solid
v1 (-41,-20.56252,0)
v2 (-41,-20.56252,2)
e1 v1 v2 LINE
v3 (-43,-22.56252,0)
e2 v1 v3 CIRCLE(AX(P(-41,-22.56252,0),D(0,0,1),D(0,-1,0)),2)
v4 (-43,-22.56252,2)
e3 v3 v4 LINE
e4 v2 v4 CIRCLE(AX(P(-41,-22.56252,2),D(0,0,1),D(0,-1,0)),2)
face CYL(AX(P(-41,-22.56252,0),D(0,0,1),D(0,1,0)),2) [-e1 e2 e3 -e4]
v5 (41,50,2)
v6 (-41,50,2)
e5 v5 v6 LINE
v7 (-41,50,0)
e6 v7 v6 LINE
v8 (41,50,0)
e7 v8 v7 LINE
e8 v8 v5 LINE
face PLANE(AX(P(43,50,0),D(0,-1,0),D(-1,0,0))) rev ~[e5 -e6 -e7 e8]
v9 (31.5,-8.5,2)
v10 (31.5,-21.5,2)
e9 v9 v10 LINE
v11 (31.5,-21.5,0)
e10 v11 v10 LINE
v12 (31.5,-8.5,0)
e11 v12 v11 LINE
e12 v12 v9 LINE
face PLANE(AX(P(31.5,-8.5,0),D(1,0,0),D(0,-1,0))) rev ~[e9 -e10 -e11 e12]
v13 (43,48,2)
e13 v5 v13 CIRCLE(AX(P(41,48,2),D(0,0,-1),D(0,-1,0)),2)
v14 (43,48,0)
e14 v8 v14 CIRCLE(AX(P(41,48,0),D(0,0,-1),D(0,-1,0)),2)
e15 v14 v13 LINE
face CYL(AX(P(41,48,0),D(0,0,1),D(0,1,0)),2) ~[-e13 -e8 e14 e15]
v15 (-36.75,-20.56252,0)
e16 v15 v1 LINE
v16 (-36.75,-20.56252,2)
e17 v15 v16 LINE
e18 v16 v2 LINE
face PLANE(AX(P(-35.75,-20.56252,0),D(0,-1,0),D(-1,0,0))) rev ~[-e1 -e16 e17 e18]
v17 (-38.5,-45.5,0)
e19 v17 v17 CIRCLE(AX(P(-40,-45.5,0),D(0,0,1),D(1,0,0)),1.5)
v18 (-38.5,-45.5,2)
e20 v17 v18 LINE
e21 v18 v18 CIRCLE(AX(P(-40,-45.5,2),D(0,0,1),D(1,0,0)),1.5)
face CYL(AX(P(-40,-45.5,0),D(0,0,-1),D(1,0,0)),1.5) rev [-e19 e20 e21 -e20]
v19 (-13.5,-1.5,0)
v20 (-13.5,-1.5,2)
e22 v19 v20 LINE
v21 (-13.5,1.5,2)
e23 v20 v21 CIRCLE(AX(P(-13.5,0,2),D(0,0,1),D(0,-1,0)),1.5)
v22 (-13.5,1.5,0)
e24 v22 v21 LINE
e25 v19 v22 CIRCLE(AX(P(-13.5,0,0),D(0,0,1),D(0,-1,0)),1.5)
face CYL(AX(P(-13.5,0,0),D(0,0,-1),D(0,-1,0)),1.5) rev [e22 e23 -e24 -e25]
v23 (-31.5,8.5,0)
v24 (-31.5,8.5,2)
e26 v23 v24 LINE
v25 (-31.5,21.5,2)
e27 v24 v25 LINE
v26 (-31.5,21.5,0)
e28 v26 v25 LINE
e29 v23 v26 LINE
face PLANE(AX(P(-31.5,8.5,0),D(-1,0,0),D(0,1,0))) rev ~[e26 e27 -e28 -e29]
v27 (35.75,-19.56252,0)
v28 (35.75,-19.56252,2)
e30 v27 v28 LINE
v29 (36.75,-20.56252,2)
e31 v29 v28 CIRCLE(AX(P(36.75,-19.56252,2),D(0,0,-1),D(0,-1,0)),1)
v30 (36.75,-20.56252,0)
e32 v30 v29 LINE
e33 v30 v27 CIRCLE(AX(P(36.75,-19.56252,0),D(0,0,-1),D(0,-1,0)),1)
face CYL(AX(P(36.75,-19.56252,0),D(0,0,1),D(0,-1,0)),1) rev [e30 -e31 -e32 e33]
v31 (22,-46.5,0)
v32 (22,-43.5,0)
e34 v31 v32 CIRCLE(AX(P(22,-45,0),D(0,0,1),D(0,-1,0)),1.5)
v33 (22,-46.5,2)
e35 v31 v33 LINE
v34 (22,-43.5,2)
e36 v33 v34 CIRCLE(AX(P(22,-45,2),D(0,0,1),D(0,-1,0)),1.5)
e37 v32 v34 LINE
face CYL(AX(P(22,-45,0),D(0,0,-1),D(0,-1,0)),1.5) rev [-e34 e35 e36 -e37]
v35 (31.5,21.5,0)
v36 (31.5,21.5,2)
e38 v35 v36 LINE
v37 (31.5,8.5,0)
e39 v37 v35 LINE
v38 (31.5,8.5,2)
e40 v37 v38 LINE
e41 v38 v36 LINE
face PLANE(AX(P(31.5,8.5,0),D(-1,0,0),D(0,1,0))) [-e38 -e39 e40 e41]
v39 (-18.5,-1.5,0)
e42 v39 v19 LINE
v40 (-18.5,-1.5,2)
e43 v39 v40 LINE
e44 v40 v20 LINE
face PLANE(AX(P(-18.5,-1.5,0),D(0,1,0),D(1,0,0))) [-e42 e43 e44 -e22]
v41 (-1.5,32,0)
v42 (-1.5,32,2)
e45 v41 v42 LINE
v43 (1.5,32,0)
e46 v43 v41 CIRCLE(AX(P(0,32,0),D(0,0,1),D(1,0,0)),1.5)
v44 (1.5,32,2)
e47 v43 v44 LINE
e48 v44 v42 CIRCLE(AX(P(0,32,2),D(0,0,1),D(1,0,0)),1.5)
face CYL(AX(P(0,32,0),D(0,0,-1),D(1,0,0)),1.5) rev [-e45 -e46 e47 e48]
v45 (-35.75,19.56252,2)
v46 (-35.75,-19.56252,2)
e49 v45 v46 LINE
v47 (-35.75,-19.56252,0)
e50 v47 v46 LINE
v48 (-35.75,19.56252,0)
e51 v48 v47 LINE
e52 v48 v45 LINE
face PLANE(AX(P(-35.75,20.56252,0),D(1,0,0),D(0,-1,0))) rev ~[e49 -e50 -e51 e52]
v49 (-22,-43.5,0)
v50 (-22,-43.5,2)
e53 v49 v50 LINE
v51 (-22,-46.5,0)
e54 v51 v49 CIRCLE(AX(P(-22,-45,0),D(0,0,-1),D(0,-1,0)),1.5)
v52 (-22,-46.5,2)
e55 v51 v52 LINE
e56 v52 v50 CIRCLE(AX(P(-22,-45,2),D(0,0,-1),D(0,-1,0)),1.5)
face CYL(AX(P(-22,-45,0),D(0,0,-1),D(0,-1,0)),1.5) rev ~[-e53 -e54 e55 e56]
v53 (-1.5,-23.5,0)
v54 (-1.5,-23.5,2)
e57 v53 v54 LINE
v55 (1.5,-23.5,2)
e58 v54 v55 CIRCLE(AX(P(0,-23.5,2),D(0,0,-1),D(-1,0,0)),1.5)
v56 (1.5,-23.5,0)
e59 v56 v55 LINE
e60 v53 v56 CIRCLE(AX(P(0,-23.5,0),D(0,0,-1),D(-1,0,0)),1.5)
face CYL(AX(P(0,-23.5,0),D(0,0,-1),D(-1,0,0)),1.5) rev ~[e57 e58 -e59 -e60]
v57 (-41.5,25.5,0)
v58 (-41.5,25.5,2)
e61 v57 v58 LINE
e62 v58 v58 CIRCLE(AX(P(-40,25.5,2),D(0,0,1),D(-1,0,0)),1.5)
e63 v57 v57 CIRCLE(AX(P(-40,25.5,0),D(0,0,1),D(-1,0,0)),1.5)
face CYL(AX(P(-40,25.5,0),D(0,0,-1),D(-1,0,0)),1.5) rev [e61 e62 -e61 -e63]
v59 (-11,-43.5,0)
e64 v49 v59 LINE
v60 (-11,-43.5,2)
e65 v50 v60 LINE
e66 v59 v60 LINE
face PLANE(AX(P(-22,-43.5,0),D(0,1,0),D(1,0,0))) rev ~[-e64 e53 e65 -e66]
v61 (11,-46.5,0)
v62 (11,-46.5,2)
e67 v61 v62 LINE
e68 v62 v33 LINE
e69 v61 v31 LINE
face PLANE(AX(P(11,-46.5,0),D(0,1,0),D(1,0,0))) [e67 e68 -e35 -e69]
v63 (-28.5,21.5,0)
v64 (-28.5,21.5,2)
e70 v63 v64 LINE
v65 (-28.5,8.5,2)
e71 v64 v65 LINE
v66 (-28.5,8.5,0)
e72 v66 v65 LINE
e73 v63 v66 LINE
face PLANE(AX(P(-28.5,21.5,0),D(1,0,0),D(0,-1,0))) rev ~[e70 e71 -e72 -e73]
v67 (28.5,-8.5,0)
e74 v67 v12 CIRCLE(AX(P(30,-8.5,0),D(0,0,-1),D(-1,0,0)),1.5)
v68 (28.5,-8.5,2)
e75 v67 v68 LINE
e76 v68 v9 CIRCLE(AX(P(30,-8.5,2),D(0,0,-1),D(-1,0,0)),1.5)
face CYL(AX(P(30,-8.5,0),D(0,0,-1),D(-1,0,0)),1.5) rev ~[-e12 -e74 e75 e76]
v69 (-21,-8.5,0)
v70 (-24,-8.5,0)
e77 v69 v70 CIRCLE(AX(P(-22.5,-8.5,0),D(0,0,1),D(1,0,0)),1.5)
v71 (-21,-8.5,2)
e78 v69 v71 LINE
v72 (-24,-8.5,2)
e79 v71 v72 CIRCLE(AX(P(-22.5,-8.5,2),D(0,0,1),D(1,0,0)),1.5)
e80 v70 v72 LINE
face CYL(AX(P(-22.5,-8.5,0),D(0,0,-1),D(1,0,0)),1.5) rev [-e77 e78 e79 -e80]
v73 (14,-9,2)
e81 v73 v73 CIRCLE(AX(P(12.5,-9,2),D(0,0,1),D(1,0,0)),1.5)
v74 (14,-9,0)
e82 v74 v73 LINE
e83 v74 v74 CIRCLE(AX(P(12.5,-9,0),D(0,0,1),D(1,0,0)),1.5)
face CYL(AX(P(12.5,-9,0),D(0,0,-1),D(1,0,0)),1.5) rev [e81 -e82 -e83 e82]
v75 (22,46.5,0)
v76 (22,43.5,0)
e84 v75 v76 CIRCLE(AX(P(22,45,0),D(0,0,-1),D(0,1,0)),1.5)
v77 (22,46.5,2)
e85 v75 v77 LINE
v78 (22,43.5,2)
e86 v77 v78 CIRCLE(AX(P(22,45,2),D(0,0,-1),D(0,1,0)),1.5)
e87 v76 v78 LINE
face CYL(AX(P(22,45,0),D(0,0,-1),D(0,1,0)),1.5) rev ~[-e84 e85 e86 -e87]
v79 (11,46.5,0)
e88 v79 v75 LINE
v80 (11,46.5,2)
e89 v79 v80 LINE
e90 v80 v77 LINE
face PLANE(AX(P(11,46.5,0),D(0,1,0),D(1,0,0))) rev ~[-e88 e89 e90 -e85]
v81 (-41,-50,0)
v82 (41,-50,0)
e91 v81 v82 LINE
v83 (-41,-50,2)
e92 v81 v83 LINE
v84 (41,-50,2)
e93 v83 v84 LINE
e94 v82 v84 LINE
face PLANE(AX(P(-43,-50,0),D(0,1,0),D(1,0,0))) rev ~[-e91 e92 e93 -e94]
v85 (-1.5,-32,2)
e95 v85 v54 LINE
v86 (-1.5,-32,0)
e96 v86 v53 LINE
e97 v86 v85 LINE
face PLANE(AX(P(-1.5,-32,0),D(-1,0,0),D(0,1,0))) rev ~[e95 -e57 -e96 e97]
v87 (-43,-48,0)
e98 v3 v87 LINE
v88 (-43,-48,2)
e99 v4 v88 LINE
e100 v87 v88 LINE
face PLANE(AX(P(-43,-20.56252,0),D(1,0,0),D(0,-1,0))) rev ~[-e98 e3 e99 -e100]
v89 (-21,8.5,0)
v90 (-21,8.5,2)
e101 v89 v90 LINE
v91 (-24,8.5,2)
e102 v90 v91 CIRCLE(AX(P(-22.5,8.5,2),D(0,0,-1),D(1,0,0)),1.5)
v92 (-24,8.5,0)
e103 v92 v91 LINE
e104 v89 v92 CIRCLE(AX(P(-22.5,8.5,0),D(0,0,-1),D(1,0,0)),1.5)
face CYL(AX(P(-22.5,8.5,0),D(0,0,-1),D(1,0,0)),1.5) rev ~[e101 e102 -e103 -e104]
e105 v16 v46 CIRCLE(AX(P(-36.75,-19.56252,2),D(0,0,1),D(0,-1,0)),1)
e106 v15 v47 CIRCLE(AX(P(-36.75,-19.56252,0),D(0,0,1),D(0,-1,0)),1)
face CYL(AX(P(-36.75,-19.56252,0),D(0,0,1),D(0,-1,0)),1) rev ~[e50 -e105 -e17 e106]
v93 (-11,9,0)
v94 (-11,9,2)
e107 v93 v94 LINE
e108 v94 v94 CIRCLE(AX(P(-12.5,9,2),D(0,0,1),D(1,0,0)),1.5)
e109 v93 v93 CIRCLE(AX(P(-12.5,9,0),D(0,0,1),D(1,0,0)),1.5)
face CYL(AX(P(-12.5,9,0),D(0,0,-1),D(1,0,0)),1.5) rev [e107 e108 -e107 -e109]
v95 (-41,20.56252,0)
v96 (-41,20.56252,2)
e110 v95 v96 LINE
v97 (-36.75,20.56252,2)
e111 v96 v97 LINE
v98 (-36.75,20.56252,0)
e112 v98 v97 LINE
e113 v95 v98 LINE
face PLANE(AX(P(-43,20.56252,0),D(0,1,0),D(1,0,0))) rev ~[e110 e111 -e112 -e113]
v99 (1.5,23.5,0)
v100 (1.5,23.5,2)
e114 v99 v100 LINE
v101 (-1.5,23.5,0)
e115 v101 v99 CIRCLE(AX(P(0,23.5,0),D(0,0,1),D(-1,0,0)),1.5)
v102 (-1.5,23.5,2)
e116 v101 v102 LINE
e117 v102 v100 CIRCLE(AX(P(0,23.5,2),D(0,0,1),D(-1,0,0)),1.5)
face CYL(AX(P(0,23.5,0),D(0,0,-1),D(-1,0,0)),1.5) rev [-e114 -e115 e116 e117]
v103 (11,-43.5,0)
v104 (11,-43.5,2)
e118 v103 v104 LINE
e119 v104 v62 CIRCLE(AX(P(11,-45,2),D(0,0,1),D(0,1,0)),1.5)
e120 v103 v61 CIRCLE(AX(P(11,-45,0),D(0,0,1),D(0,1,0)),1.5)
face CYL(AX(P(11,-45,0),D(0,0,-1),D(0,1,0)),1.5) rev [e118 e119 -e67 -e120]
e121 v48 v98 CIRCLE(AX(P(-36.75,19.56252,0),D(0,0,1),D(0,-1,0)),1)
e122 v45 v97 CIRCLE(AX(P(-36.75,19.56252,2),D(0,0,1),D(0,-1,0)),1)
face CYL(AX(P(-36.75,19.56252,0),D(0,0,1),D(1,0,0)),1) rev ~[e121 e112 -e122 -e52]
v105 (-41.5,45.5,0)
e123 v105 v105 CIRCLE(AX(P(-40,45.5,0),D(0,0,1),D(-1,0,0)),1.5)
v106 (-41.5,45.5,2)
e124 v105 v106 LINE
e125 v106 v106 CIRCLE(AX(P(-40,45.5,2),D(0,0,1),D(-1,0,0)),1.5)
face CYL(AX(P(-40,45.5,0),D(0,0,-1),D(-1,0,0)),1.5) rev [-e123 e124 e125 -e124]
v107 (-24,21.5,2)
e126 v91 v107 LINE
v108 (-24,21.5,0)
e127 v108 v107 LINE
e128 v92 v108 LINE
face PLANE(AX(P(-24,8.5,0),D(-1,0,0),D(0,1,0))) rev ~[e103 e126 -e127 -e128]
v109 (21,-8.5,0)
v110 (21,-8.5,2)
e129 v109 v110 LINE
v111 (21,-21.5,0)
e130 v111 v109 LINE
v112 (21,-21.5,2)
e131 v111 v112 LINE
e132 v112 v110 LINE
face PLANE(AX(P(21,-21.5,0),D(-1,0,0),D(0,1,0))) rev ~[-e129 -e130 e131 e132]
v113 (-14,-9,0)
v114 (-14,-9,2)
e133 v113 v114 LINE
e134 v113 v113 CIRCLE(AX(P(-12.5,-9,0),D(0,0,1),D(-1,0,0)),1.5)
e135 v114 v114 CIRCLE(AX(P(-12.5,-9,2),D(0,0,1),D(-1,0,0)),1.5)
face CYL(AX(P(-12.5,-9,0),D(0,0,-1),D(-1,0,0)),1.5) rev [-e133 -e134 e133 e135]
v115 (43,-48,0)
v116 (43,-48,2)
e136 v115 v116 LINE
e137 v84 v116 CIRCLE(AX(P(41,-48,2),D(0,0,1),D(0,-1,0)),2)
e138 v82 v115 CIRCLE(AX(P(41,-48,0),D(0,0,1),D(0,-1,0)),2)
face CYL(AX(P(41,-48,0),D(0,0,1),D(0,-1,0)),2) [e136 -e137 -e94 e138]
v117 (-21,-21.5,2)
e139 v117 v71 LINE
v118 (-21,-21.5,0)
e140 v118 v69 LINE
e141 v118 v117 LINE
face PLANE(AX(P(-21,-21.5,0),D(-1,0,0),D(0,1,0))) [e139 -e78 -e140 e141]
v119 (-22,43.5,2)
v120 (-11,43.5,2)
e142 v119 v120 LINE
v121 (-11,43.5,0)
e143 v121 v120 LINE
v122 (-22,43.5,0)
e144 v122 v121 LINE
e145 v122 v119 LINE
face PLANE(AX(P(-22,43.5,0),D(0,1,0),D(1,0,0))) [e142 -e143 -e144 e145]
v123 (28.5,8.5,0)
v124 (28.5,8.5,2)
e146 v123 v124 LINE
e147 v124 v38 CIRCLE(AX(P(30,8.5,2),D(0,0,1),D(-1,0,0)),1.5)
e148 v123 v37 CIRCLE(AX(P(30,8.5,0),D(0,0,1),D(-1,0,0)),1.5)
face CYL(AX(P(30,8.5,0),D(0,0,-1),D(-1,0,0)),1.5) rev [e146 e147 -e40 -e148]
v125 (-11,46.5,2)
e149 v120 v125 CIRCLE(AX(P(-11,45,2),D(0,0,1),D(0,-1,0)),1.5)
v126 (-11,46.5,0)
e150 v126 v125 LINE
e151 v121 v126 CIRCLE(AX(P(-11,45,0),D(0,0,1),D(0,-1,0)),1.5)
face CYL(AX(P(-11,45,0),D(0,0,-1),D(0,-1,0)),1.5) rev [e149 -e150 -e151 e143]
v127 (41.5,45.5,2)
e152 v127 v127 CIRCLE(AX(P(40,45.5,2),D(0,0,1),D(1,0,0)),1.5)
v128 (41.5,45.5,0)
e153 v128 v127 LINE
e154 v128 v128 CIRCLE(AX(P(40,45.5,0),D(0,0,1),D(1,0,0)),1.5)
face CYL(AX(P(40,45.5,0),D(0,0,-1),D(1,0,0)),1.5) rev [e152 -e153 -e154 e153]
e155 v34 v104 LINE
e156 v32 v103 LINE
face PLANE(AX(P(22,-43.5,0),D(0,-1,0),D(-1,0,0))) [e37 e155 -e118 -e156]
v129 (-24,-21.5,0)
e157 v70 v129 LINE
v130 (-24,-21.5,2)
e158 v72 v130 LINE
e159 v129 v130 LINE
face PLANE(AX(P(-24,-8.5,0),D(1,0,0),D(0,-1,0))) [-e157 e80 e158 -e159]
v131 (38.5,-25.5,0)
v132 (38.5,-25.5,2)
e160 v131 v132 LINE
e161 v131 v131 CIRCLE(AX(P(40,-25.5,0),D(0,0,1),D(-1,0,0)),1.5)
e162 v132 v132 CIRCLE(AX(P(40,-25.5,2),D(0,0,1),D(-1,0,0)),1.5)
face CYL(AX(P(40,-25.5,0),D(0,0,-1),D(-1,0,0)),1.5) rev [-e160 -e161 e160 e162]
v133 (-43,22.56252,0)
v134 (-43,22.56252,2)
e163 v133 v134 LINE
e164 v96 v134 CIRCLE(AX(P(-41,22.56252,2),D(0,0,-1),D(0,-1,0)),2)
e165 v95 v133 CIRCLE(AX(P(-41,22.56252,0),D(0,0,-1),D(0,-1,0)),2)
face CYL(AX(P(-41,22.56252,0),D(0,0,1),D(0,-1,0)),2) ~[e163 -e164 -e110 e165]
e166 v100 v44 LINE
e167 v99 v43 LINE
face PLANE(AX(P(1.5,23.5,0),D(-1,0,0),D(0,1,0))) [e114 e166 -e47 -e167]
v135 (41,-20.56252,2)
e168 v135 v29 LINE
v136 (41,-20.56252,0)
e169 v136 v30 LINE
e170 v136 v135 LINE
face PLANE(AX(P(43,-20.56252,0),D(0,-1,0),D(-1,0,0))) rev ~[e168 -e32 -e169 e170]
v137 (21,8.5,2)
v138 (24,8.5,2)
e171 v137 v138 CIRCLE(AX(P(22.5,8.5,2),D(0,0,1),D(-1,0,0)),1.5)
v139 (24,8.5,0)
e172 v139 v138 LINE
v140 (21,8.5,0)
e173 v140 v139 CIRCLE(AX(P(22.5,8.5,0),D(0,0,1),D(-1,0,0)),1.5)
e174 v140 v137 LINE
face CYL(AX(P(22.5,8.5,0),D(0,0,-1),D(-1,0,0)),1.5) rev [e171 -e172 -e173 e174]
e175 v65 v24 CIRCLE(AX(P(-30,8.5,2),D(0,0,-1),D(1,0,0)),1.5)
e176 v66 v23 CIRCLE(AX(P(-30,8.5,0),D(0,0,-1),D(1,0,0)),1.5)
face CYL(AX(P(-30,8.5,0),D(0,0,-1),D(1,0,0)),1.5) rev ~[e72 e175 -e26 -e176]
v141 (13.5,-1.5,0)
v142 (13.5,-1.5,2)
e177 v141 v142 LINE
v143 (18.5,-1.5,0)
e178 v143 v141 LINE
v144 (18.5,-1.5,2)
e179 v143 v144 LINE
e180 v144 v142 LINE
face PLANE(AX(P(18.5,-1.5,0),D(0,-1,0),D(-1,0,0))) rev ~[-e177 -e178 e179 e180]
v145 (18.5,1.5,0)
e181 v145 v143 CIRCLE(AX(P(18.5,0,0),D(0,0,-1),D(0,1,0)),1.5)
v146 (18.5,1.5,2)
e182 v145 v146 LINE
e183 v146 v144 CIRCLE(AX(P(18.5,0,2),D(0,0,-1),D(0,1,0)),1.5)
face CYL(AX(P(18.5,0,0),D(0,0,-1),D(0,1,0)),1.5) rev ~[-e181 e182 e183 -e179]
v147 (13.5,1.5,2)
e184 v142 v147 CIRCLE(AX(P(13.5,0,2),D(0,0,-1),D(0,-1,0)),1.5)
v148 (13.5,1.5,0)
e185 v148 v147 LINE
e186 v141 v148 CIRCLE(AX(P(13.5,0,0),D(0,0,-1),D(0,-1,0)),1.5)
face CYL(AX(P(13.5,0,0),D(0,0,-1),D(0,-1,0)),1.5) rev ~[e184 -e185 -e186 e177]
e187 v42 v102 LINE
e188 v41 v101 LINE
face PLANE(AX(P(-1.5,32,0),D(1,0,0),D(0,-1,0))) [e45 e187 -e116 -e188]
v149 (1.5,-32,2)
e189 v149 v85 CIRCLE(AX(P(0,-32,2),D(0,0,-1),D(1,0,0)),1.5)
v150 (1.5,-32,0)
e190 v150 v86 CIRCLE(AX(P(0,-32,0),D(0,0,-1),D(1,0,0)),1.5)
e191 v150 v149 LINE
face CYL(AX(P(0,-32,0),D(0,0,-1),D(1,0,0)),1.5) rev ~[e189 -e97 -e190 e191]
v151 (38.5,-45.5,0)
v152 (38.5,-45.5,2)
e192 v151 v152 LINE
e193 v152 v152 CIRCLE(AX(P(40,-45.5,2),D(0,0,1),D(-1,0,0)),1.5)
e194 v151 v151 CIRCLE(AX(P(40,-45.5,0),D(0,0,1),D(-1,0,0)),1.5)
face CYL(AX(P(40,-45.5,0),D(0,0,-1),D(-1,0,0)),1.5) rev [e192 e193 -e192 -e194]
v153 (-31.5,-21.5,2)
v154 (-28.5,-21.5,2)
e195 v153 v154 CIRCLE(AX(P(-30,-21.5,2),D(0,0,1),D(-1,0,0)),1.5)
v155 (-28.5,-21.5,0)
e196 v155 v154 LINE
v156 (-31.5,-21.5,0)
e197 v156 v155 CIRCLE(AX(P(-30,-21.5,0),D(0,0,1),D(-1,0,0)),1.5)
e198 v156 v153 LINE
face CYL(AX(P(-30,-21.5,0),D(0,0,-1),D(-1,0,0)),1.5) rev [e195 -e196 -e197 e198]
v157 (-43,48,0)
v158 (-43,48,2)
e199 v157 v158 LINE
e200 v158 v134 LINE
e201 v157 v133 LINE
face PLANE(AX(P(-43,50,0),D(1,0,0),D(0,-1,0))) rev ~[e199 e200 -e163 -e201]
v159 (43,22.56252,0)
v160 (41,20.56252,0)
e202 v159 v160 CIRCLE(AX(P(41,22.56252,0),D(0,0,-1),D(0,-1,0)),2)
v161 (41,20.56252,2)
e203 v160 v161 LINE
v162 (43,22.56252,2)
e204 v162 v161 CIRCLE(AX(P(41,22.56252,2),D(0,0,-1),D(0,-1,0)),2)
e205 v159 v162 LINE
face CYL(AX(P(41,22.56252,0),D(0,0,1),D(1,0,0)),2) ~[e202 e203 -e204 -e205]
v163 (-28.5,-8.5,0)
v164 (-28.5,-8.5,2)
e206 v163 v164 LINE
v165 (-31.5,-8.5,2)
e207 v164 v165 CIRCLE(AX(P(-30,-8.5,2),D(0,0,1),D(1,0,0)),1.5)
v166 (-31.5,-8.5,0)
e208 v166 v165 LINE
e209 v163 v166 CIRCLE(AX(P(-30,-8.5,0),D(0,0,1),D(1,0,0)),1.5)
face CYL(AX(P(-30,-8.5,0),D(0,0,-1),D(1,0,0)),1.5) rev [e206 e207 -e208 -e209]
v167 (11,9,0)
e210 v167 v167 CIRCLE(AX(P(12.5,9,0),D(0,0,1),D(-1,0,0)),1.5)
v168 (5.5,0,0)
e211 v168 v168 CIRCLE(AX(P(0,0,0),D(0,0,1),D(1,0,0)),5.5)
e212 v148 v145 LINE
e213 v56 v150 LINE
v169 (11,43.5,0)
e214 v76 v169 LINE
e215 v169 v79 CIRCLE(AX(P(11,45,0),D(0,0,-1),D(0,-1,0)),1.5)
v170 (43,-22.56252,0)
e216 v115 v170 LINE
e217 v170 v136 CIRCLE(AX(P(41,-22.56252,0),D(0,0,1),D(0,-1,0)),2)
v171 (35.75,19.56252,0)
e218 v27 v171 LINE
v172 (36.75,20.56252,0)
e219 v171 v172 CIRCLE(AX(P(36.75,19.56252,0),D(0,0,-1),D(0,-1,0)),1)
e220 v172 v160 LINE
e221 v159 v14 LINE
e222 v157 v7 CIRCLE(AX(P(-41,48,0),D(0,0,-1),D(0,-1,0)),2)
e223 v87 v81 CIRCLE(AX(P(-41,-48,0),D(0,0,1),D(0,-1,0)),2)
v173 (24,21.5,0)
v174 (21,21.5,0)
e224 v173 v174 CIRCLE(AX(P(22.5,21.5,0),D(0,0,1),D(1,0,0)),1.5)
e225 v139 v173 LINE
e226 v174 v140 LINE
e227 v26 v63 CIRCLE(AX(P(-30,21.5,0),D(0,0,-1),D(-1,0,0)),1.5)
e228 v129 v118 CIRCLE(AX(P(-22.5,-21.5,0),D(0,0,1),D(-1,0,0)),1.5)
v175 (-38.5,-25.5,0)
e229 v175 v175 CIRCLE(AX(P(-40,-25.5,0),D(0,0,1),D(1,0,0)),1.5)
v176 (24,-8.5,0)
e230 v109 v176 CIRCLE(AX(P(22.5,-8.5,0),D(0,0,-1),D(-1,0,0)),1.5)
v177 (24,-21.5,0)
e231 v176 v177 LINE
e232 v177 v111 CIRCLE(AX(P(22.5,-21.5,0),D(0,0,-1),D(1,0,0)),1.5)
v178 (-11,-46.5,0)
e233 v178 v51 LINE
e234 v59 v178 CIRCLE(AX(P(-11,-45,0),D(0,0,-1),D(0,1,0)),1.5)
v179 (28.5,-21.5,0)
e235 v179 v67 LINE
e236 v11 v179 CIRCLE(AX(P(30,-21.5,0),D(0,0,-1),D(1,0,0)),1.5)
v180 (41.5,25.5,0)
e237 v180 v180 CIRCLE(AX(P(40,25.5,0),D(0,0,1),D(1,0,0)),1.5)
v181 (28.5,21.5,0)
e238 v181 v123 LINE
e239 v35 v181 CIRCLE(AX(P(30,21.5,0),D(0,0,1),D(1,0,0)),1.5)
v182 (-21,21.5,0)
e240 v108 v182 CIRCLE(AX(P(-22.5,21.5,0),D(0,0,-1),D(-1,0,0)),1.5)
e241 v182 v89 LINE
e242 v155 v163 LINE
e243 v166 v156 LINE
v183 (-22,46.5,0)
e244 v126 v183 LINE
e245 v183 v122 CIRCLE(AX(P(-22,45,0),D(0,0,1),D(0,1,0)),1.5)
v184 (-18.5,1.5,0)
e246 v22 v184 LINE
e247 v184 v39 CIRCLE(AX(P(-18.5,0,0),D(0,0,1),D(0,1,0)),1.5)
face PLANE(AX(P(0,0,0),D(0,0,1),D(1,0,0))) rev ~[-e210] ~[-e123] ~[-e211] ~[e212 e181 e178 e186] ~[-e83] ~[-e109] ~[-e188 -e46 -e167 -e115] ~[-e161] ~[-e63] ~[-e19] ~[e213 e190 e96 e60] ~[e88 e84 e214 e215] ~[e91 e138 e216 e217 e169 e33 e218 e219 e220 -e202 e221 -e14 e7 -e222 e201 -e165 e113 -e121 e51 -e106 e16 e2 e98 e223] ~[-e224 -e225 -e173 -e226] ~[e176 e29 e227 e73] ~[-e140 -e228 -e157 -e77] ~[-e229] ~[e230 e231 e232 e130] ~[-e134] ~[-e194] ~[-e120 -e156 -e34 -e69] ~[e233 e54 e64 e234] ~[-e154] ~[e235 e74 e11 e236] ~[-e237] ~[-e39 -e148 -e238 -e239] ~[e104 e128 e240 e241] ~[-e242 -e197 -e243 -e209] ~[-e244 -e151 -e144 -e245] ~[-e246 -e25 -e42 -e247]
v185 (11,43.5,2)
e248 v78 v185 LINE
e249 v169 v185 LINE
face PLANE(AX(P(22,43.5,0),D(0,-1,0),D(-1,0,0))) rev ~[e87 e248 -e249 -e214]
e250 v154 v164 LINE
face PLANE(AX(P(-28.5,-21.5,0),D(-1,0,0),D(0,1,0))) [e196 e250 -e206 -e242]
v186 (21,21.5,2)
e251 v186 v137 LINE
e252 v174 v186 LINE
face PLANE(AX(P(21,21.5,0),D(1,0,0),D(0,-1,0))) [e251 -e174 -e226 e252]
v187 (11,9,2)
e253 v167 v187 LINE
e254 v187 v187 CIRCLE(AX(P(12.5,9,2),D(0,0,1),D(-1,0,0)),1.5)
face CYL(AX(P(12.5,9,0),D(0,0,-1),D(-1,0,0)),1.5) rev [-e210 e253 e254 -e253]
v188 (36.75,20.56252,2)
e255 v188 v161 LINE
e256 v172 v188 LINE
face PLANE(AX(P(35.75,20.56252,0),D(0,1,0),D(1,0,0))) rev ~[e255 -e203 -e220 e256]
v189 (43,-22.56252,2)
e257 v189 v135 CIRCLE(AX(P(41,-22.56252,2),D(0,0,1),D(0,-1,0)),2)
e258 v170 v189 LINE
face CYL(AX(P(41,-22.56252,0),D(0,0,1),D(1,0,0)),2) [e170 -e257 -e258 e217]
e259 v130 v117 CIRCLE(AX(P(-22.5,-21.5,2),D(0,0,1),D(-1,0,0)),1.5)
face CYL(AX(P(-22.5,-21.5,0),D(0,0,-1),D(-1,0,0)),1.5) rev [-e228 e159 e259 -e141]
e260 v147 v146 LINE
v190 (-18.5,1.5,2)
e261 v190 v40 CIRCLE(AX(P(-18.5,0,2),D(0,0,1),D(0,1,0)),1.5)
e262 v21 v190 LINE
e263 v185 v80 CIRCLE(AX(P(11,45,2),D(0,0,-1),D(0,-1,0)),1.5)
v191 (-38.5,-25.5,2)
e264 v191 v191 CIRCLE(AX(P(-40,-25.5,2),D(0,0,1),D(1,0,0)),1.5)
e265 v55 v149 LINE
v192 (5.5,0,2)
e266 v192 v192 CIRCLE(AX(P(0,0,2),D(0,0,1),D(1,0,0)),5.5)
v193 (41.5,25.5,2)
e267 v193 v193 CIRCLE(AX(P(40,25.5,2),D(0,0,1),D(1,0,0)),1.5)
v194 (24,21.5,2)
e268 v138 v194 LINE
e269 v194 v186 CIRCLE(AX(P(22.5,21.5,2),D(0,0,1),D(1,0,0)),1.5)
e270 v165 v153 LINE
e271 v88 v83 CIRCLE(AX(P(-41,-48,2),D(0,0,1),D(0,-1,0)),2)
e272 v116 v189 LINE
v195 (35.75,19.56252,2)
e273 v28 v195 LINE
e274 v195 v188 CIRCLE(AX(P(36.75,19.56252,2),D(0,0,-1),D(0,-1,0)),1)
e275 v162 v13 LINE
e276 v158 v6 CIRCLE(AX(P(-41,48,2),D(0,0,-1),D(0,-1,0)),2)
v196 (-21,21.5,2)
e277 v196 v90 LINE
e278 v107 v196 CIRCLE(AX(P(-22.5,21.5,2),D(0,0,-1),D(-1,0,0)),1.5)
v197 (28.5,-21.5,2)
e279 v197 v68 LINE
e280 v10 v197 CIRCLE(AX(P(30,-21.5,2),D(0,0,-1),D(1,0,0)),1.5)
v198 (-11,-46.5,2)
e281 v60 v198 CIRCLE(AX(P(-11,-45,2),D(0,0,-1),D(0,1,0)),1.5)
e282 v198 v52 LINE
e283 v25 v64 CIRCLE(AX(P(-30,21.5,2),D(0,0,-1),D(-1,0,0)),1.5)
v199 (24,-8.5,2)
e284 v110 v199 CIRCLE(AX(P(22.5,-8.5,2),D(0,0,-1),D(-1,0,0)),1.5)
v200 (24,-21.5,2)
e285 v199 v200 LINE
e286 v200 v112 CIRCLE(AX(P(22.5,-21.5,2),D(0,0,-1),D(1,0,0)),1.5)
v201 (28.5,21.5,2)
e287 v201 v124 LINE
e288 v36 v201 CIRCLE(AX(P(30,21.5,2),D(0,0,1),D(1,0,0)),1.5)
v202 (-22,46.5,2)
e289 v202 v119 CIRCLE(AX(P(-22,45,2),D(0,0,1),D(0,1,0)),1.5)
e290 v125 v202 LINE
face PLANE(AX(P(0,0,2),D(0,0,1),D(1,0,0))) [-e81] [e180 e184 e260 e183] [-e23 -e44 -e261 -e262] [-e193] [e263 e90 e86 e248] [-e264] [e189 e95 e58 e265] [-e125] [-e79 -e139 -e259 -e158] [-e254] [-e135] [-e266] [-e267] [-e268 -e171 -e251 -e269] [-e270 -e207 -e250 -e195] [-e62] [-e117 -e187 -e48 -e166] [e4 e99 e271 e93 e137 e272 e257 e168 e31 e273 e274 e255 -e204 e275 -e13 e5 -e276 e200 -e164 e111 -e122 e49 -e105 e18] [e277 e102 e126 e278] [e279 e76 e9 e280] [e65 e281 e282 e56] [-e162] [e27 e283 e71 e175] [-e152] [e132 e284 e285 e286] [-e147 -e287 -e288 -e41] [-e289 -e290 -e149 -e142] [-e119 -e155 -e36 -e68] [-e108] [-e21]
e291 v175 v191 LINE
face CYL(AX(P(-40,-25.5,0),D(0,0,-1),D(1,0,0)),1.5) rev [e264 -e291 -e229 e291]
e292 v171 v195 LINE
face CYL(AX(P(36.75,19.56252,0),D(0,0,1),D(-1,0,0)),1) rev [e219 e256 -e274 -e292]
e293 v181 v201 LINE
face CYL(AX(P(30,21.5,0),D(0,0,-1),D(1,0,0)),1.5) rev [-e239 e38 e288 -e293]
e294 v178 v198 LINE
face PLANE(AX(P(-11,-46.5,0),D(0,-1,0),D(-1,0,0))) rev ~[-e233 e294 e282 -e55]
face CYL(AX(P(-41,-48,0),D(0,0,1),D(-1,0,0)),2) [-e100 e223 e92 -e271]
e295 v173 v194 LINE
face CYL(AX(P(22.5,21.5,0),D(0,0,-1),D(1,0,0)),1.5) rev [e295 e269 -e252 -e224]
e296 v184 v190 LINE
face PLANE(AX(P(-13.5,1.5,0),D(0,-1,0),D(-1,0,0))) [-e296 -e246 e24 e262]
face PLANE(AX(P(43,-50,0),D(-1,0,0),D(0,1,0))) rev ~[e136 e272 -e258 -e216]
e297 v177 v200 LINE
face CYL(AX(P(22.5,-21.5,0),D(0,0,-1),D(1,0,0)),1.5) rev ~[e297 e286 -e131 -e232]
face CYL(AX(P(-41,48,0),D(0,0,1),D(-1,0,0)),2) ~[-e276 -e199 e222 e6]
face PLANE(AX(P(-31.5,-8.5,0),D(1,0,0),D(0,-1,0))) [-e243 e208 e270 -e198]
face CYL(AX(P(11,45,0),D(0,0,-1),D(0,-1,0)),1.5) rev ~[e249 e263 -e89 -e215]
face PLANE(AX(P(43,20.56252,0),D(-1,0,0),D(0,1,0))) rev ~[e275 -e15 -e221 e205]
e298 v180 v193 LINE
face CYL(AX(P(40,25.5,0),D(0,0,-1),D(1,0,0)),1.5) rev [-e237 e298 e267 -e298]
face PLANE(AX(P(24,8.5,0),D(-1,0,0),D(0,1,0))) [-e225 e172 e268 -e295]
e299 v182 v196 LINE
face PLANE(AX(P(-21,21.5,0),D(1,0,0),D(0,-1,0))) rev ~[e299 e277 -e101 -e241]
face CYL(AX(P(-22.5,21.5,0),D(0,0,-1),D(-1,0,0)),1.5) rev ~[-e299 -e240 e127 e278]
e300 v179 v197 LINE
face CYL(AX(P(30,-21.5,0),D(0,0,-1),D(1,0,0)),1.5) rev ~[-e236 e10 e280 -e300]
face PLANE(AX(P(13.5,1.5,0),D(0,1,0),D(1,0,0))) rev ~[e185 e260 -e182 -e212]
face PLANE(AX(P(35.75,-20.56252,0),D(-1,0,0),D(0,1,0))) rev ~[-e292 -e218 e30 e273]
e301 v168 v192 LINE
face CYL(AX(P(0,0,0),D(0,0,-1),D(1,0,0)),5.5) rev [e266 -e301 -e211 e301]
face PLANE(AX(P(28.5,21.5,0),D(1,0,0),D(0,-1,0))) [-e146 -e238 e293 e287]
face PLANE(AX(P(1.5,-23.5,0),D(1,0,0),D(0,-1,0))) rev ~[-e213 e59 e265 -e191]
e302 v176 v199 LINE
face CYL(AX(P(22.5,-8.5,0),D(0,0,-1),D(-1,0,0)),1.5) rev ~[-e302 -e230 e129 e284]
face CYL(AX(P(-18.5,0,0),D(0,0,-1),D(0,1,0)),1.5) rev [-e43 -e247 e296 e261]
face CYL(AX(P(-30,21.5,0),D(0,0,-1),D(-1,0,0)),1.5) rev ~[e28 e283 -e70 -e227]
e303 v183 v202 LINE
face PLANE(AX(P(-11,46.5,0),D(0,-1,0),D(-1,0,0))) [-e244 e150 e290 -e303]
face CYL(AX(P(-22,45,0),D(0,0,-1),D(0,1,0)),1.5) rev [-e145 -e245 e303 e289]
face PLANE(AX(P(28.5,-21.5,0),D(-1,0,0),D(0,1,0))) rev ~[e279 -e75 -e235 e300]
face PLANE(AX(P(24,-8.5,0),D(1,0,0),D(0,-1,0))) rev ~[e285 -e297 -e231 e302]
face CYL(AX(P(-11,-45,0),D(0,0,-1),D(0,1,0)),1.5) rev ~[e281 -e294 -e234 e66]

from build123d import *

# Parameters (mm, degrees)
SKETCH_1_R      = 5.5
SKETCH_1_R_2    = 1.5
EXTRUDE_1_DEPTH = 2
FILLET_1_R      = 1
FILLET_2_R      = 2


with BuildPart() as part:
    # 草圖1 → 填料-伸長1 (new body)
    with BuildSketch(Plane.XY):
        Polygon((-35.75, -20.56252042), (-43, -20.56252042), (-43, -50), (-25.75, -50), (25.75, -50), (43, -50), (43, -20.56252042), (35.75, -20.56252042), (35.75, 20.56252042), (43, 20.56252042), (43, 50), (25.75, 50), (-25.75, 50), (-43, 50), (-43, 20.56252042), (-35.75, 20.56252042), align=None)
        Circle(SKETCH_1_R, mode=Mode.SUBTRACT)
        with Locations((12.5, -9)):
            Circle(SKETCH_1_R_2, mode=Mode.SUBTRACT)
        with Locations(Location((-12.5, -9, 0), (0, 0, 180))):
            Circle(SKETCH_1_R_2, mode=Mode.SUBTRACT)
        with Locations(Location((12.5, 9, 0), (0, 0, 180))):
            Circle(SKETCH_1_R_2, mode=Mode.SUBTRACT)
        with Locations((-12.5, 9)):
            Circle(SKETCH_1_R_2, mode=Mode.SUBTRACT)
        with Locations((-40, -25.5)):
            Circle(SKETCH_1_R_2, mode=Mode.SUBTRACT)
        with Locations(Location((40, -25.5, 0), (0, 0, 180))):
            Circle(SKETCH_1_R_2, mode=Mode.SUBTRACT)
        with Locations((40, 25.5)):
            Circle(SKETCH_1_R_2, mode=Mode.SUBTRACT)
        with Locations(Location((-40, 25.5, 0), (0, 0, 180))):
            Circle(SKETCH_1_R_2, mode=Mode.SUBTRACT)
        with Locations((-40, -45.5)):
            Circle(SKETCH_1_R_2, mode=Mode.SUBTRACT)
        with Locations(Location((-40, 45.5, 0), (0, 0, 180))):
            Circle(SKETCH_1_R_2, mode=Mode.SUBTRACT)
        with Locations((40, 45.5)):
            Circle(SKETCH_1_R_2, mode=Mode.SUBTRACT)
        with Locations(Location((40, -45.5, 0), (0, 0, 180))):
            Circle(SKETCH_1_R_2, mode=Mode.SUBTRACT)
        with BuildLine():
            Line((13.5, 1.5), (18.5, 1.5))
            ThreePointArc((18.5, 1.5), (20, 0), (18.5, -1.5))
            Line((18.5, -1.5), (13.5, -1.5))
            ThreePointArc((13.5, -1.5), (12, 0), (13.5, 1.5))
        make_face(mode=Mode.SUBTRACT)
        with BuildLine():
            Line((24, -8.5), (24, -21.5))
            ThreePointArc((24, -21.5), (22.5, -23), (21, -21.5))
            Line((21, -21.5), (21, -8.5))
            ThreePointArc((21, -8.5), (22.5, -7), (24, -8.5))
        make_face(mode=Mode.SUBTRACT)
        with BuildLine():
            Line((31.5, -8.5), (31.5, -21.5))
            ThreePointArc((31.5, -21.5), (30, -23), (28.5, -21.5))
            Line((28.5, -21.5), (28.5, -8.5))
            ThreePointArc((28.5, -8.5), (30, -7), (31.5, -8.5))
        make_face(mode=Mode.SUBTRACT)
        with BuildLine():
            Line((31.5, 8.5), (31.5, 21.5))
            ThreePointArc((31.5, 21.5), (30, 23), (28.5, 21.5))
            Line((28.5, 21.5), (28.5, 8.5))
            ThreePointArc((28.5, 8.5), (30, 7), (31.5, 8.5))
        make_face(mode=Mode.SUBTRACT)
        with BuildLine():
            Line((24, 8.5), (24, 21.5))
            ThreePointArc((24, 21.5), (22.5, 23), (21, 21.5))
            Line((21, 21.5), (21, 8.5))
            ThreePointArc((21, 8.5), (22.5, 7), (24, 8.5))
        make_face(mode=Mode.SUBTRACT)
        with BuildLine():
            Line((-24, 8.5), (-24, 21.5))
            ThreePointArc((-24, 21.5), (-22.5, 23), (-21, 21.5))
            Line((-21, 21.5), (-21, 8.5))
            ThreePointArc((-21, 8.5), (-22.5, 7), (-24, 8.5))
        make_face(mode=Mode.SUBTRACT)
        with BuildLine():
            Line((-31.5, 8.5), (-31.5, 21.5))
            ThreePointArc((-31.5, 21.5), (-30, 23), (-28.5, 21.5))
            Line((-28.5, 21.5), (-28.5, 8.5))
            ThreePointArc((-28.5, 8.5), (-30, 7), (-31.5, 8.5))
        make_face(mode=Mode.SUBTRACT)
        with BuildLine():
            Line((-31.5, -8.5), (-31.5, -21.5))
            ThreePointArc((-31.5, -21.5), (-30, -23), (-28.5, -21.5))
            Line((-28.5, -21.5), (-28.5, -8.5))
            ThreePointArc((-28.5, -8.5), (-30, -7), (-31.5, -8.5))
        make_face(mode=Mode.SUBTRACT)
        with BuildLine():
            Line((-24, -8.5), (-24, -21.5))
            ThreePointArc((-24, -21.5), (-22.5, -23), (-21, -21.5))
            Line((-21, -21.5), (-21, -8.5))
            ThreePointArc((-21, -8.5), (-22.5, -7), (-24, -8.5))
        make_face(mode=Mode.SUBTRACT)
        with BuildLine():
            Line((-22, -43.5), (-11, -43.5))
            ThreePointArc((-11, -43.5), (-9.5, -45), (-11, -46.5))
            Line((-11, -46.5), (-22, -46.5))
            ThreePointArc((-22, -46.5), (-23.5, -45), (-22, -43.5))
        make_face(mode=Mode.SUBTRACT)
        with BuildLine():
            Line((22, -43.5), (11, -43.5))
            ThreePointArc((11, -43.5), (9.5, -45), (11, -46.5))
            Line((11, -46.5), (22, -46.5))
            ThreePointArc((22, -46.5), (23.5, -45), (22, -43.5))
        make_face(mode=Mode.SUBTRACT)
        with BuildLine():
            Line((22, 43.5), (11, 43.5))
            ThreePointArc((11, 43.5), (9.5, 45), (11, 46.5))
            Line((11, 46.5), (22, 46.5))
            ThreePointArc((22, 46.5), (23.5, 45), (22, 43.5))
        make_face(mode=Mode.SUBTRACT)
        with BuildLine():
            Line((-22, 43.5), (-11, 43.5))
            ThreePointArc((-11, 43.5), (-9.5, 45), (-11, 46.5))
            Line((-11, 46.5), (-22, 46.5))
            ThreePointArc((-22, 46.5), (-23.5, 45), (-22, 43.5))
        make_face(mode=Mode.SUBTRACT)
        with BuildLine():
            Line((-13.5, 1.5), (-18.5, 1.5))
            ThreePointArc((-18.5, 1.5), (-20, 0), (-18.5, -1.5))
            Line((-18.5, -1.5), (-13.5, -1.5))
            ThreePointArc((-13.5, -1.5), (-12, 0), (-13.5, 1.5))
        make_face(mode=Mode.SUBTRACT)
        with BuildLine():
            Line((1.5, -23.5), (1.5, -32))
            ThreePointArc((1.5, -32), (0, -33.5), (-1.5, -32))
            Line((-1.5, -32), (-1.5, -23.5))
            ThreePointArc((-1.5, -23.5), (0, -22), (1.5, -23.5))
        make_face(mode=Mode.SUBTRACT)
        with BuildLine():
            Line((1.5, 23.5), (1.5, 32))
            ThreePointArc((1.5, 32), (0, 33.5), (-1.5, 32))
            Line((-1.5, 32), (-1.5, 23.5))
            ThreePointArc((-1.5, 23.5), (0, 22), (1.5, 23.5))
        make_face(mode=Mode.SUBTRACT)
    extrude(amount=EXTRUDE_1_DEPTH)

    # 圓角1
    fillet_1_edges = [part.edges().sort_by_distance(p)[0] for p in [
        (35.75, 20.56252042, 1),
        (35.75, -20.56252042, 1),
        (-35.75, -20.56252042, 1),
        (-35.75, 20.56252042, 1),
    ]]
    fillet(fillet_1_edges, radius=FILLET_1_R)

    # 圓角2
    fillet_2_edges = [part.edges().sort_by_distance(p)[0] for p in [
        (43, 50, 1),
        (43, 20.56252042, 1),
        (43, -20.56252042, 1),
        (43, -50, 1),
        (-43, -50, 1),
        (-43, -20.56252042, 1),
        (-43, 20.56252042, 1),
        (-43, 50, 1),
    ]]
    fillet(fillet_2_edges, radius=FILLET_2_R)


solid = part.part
